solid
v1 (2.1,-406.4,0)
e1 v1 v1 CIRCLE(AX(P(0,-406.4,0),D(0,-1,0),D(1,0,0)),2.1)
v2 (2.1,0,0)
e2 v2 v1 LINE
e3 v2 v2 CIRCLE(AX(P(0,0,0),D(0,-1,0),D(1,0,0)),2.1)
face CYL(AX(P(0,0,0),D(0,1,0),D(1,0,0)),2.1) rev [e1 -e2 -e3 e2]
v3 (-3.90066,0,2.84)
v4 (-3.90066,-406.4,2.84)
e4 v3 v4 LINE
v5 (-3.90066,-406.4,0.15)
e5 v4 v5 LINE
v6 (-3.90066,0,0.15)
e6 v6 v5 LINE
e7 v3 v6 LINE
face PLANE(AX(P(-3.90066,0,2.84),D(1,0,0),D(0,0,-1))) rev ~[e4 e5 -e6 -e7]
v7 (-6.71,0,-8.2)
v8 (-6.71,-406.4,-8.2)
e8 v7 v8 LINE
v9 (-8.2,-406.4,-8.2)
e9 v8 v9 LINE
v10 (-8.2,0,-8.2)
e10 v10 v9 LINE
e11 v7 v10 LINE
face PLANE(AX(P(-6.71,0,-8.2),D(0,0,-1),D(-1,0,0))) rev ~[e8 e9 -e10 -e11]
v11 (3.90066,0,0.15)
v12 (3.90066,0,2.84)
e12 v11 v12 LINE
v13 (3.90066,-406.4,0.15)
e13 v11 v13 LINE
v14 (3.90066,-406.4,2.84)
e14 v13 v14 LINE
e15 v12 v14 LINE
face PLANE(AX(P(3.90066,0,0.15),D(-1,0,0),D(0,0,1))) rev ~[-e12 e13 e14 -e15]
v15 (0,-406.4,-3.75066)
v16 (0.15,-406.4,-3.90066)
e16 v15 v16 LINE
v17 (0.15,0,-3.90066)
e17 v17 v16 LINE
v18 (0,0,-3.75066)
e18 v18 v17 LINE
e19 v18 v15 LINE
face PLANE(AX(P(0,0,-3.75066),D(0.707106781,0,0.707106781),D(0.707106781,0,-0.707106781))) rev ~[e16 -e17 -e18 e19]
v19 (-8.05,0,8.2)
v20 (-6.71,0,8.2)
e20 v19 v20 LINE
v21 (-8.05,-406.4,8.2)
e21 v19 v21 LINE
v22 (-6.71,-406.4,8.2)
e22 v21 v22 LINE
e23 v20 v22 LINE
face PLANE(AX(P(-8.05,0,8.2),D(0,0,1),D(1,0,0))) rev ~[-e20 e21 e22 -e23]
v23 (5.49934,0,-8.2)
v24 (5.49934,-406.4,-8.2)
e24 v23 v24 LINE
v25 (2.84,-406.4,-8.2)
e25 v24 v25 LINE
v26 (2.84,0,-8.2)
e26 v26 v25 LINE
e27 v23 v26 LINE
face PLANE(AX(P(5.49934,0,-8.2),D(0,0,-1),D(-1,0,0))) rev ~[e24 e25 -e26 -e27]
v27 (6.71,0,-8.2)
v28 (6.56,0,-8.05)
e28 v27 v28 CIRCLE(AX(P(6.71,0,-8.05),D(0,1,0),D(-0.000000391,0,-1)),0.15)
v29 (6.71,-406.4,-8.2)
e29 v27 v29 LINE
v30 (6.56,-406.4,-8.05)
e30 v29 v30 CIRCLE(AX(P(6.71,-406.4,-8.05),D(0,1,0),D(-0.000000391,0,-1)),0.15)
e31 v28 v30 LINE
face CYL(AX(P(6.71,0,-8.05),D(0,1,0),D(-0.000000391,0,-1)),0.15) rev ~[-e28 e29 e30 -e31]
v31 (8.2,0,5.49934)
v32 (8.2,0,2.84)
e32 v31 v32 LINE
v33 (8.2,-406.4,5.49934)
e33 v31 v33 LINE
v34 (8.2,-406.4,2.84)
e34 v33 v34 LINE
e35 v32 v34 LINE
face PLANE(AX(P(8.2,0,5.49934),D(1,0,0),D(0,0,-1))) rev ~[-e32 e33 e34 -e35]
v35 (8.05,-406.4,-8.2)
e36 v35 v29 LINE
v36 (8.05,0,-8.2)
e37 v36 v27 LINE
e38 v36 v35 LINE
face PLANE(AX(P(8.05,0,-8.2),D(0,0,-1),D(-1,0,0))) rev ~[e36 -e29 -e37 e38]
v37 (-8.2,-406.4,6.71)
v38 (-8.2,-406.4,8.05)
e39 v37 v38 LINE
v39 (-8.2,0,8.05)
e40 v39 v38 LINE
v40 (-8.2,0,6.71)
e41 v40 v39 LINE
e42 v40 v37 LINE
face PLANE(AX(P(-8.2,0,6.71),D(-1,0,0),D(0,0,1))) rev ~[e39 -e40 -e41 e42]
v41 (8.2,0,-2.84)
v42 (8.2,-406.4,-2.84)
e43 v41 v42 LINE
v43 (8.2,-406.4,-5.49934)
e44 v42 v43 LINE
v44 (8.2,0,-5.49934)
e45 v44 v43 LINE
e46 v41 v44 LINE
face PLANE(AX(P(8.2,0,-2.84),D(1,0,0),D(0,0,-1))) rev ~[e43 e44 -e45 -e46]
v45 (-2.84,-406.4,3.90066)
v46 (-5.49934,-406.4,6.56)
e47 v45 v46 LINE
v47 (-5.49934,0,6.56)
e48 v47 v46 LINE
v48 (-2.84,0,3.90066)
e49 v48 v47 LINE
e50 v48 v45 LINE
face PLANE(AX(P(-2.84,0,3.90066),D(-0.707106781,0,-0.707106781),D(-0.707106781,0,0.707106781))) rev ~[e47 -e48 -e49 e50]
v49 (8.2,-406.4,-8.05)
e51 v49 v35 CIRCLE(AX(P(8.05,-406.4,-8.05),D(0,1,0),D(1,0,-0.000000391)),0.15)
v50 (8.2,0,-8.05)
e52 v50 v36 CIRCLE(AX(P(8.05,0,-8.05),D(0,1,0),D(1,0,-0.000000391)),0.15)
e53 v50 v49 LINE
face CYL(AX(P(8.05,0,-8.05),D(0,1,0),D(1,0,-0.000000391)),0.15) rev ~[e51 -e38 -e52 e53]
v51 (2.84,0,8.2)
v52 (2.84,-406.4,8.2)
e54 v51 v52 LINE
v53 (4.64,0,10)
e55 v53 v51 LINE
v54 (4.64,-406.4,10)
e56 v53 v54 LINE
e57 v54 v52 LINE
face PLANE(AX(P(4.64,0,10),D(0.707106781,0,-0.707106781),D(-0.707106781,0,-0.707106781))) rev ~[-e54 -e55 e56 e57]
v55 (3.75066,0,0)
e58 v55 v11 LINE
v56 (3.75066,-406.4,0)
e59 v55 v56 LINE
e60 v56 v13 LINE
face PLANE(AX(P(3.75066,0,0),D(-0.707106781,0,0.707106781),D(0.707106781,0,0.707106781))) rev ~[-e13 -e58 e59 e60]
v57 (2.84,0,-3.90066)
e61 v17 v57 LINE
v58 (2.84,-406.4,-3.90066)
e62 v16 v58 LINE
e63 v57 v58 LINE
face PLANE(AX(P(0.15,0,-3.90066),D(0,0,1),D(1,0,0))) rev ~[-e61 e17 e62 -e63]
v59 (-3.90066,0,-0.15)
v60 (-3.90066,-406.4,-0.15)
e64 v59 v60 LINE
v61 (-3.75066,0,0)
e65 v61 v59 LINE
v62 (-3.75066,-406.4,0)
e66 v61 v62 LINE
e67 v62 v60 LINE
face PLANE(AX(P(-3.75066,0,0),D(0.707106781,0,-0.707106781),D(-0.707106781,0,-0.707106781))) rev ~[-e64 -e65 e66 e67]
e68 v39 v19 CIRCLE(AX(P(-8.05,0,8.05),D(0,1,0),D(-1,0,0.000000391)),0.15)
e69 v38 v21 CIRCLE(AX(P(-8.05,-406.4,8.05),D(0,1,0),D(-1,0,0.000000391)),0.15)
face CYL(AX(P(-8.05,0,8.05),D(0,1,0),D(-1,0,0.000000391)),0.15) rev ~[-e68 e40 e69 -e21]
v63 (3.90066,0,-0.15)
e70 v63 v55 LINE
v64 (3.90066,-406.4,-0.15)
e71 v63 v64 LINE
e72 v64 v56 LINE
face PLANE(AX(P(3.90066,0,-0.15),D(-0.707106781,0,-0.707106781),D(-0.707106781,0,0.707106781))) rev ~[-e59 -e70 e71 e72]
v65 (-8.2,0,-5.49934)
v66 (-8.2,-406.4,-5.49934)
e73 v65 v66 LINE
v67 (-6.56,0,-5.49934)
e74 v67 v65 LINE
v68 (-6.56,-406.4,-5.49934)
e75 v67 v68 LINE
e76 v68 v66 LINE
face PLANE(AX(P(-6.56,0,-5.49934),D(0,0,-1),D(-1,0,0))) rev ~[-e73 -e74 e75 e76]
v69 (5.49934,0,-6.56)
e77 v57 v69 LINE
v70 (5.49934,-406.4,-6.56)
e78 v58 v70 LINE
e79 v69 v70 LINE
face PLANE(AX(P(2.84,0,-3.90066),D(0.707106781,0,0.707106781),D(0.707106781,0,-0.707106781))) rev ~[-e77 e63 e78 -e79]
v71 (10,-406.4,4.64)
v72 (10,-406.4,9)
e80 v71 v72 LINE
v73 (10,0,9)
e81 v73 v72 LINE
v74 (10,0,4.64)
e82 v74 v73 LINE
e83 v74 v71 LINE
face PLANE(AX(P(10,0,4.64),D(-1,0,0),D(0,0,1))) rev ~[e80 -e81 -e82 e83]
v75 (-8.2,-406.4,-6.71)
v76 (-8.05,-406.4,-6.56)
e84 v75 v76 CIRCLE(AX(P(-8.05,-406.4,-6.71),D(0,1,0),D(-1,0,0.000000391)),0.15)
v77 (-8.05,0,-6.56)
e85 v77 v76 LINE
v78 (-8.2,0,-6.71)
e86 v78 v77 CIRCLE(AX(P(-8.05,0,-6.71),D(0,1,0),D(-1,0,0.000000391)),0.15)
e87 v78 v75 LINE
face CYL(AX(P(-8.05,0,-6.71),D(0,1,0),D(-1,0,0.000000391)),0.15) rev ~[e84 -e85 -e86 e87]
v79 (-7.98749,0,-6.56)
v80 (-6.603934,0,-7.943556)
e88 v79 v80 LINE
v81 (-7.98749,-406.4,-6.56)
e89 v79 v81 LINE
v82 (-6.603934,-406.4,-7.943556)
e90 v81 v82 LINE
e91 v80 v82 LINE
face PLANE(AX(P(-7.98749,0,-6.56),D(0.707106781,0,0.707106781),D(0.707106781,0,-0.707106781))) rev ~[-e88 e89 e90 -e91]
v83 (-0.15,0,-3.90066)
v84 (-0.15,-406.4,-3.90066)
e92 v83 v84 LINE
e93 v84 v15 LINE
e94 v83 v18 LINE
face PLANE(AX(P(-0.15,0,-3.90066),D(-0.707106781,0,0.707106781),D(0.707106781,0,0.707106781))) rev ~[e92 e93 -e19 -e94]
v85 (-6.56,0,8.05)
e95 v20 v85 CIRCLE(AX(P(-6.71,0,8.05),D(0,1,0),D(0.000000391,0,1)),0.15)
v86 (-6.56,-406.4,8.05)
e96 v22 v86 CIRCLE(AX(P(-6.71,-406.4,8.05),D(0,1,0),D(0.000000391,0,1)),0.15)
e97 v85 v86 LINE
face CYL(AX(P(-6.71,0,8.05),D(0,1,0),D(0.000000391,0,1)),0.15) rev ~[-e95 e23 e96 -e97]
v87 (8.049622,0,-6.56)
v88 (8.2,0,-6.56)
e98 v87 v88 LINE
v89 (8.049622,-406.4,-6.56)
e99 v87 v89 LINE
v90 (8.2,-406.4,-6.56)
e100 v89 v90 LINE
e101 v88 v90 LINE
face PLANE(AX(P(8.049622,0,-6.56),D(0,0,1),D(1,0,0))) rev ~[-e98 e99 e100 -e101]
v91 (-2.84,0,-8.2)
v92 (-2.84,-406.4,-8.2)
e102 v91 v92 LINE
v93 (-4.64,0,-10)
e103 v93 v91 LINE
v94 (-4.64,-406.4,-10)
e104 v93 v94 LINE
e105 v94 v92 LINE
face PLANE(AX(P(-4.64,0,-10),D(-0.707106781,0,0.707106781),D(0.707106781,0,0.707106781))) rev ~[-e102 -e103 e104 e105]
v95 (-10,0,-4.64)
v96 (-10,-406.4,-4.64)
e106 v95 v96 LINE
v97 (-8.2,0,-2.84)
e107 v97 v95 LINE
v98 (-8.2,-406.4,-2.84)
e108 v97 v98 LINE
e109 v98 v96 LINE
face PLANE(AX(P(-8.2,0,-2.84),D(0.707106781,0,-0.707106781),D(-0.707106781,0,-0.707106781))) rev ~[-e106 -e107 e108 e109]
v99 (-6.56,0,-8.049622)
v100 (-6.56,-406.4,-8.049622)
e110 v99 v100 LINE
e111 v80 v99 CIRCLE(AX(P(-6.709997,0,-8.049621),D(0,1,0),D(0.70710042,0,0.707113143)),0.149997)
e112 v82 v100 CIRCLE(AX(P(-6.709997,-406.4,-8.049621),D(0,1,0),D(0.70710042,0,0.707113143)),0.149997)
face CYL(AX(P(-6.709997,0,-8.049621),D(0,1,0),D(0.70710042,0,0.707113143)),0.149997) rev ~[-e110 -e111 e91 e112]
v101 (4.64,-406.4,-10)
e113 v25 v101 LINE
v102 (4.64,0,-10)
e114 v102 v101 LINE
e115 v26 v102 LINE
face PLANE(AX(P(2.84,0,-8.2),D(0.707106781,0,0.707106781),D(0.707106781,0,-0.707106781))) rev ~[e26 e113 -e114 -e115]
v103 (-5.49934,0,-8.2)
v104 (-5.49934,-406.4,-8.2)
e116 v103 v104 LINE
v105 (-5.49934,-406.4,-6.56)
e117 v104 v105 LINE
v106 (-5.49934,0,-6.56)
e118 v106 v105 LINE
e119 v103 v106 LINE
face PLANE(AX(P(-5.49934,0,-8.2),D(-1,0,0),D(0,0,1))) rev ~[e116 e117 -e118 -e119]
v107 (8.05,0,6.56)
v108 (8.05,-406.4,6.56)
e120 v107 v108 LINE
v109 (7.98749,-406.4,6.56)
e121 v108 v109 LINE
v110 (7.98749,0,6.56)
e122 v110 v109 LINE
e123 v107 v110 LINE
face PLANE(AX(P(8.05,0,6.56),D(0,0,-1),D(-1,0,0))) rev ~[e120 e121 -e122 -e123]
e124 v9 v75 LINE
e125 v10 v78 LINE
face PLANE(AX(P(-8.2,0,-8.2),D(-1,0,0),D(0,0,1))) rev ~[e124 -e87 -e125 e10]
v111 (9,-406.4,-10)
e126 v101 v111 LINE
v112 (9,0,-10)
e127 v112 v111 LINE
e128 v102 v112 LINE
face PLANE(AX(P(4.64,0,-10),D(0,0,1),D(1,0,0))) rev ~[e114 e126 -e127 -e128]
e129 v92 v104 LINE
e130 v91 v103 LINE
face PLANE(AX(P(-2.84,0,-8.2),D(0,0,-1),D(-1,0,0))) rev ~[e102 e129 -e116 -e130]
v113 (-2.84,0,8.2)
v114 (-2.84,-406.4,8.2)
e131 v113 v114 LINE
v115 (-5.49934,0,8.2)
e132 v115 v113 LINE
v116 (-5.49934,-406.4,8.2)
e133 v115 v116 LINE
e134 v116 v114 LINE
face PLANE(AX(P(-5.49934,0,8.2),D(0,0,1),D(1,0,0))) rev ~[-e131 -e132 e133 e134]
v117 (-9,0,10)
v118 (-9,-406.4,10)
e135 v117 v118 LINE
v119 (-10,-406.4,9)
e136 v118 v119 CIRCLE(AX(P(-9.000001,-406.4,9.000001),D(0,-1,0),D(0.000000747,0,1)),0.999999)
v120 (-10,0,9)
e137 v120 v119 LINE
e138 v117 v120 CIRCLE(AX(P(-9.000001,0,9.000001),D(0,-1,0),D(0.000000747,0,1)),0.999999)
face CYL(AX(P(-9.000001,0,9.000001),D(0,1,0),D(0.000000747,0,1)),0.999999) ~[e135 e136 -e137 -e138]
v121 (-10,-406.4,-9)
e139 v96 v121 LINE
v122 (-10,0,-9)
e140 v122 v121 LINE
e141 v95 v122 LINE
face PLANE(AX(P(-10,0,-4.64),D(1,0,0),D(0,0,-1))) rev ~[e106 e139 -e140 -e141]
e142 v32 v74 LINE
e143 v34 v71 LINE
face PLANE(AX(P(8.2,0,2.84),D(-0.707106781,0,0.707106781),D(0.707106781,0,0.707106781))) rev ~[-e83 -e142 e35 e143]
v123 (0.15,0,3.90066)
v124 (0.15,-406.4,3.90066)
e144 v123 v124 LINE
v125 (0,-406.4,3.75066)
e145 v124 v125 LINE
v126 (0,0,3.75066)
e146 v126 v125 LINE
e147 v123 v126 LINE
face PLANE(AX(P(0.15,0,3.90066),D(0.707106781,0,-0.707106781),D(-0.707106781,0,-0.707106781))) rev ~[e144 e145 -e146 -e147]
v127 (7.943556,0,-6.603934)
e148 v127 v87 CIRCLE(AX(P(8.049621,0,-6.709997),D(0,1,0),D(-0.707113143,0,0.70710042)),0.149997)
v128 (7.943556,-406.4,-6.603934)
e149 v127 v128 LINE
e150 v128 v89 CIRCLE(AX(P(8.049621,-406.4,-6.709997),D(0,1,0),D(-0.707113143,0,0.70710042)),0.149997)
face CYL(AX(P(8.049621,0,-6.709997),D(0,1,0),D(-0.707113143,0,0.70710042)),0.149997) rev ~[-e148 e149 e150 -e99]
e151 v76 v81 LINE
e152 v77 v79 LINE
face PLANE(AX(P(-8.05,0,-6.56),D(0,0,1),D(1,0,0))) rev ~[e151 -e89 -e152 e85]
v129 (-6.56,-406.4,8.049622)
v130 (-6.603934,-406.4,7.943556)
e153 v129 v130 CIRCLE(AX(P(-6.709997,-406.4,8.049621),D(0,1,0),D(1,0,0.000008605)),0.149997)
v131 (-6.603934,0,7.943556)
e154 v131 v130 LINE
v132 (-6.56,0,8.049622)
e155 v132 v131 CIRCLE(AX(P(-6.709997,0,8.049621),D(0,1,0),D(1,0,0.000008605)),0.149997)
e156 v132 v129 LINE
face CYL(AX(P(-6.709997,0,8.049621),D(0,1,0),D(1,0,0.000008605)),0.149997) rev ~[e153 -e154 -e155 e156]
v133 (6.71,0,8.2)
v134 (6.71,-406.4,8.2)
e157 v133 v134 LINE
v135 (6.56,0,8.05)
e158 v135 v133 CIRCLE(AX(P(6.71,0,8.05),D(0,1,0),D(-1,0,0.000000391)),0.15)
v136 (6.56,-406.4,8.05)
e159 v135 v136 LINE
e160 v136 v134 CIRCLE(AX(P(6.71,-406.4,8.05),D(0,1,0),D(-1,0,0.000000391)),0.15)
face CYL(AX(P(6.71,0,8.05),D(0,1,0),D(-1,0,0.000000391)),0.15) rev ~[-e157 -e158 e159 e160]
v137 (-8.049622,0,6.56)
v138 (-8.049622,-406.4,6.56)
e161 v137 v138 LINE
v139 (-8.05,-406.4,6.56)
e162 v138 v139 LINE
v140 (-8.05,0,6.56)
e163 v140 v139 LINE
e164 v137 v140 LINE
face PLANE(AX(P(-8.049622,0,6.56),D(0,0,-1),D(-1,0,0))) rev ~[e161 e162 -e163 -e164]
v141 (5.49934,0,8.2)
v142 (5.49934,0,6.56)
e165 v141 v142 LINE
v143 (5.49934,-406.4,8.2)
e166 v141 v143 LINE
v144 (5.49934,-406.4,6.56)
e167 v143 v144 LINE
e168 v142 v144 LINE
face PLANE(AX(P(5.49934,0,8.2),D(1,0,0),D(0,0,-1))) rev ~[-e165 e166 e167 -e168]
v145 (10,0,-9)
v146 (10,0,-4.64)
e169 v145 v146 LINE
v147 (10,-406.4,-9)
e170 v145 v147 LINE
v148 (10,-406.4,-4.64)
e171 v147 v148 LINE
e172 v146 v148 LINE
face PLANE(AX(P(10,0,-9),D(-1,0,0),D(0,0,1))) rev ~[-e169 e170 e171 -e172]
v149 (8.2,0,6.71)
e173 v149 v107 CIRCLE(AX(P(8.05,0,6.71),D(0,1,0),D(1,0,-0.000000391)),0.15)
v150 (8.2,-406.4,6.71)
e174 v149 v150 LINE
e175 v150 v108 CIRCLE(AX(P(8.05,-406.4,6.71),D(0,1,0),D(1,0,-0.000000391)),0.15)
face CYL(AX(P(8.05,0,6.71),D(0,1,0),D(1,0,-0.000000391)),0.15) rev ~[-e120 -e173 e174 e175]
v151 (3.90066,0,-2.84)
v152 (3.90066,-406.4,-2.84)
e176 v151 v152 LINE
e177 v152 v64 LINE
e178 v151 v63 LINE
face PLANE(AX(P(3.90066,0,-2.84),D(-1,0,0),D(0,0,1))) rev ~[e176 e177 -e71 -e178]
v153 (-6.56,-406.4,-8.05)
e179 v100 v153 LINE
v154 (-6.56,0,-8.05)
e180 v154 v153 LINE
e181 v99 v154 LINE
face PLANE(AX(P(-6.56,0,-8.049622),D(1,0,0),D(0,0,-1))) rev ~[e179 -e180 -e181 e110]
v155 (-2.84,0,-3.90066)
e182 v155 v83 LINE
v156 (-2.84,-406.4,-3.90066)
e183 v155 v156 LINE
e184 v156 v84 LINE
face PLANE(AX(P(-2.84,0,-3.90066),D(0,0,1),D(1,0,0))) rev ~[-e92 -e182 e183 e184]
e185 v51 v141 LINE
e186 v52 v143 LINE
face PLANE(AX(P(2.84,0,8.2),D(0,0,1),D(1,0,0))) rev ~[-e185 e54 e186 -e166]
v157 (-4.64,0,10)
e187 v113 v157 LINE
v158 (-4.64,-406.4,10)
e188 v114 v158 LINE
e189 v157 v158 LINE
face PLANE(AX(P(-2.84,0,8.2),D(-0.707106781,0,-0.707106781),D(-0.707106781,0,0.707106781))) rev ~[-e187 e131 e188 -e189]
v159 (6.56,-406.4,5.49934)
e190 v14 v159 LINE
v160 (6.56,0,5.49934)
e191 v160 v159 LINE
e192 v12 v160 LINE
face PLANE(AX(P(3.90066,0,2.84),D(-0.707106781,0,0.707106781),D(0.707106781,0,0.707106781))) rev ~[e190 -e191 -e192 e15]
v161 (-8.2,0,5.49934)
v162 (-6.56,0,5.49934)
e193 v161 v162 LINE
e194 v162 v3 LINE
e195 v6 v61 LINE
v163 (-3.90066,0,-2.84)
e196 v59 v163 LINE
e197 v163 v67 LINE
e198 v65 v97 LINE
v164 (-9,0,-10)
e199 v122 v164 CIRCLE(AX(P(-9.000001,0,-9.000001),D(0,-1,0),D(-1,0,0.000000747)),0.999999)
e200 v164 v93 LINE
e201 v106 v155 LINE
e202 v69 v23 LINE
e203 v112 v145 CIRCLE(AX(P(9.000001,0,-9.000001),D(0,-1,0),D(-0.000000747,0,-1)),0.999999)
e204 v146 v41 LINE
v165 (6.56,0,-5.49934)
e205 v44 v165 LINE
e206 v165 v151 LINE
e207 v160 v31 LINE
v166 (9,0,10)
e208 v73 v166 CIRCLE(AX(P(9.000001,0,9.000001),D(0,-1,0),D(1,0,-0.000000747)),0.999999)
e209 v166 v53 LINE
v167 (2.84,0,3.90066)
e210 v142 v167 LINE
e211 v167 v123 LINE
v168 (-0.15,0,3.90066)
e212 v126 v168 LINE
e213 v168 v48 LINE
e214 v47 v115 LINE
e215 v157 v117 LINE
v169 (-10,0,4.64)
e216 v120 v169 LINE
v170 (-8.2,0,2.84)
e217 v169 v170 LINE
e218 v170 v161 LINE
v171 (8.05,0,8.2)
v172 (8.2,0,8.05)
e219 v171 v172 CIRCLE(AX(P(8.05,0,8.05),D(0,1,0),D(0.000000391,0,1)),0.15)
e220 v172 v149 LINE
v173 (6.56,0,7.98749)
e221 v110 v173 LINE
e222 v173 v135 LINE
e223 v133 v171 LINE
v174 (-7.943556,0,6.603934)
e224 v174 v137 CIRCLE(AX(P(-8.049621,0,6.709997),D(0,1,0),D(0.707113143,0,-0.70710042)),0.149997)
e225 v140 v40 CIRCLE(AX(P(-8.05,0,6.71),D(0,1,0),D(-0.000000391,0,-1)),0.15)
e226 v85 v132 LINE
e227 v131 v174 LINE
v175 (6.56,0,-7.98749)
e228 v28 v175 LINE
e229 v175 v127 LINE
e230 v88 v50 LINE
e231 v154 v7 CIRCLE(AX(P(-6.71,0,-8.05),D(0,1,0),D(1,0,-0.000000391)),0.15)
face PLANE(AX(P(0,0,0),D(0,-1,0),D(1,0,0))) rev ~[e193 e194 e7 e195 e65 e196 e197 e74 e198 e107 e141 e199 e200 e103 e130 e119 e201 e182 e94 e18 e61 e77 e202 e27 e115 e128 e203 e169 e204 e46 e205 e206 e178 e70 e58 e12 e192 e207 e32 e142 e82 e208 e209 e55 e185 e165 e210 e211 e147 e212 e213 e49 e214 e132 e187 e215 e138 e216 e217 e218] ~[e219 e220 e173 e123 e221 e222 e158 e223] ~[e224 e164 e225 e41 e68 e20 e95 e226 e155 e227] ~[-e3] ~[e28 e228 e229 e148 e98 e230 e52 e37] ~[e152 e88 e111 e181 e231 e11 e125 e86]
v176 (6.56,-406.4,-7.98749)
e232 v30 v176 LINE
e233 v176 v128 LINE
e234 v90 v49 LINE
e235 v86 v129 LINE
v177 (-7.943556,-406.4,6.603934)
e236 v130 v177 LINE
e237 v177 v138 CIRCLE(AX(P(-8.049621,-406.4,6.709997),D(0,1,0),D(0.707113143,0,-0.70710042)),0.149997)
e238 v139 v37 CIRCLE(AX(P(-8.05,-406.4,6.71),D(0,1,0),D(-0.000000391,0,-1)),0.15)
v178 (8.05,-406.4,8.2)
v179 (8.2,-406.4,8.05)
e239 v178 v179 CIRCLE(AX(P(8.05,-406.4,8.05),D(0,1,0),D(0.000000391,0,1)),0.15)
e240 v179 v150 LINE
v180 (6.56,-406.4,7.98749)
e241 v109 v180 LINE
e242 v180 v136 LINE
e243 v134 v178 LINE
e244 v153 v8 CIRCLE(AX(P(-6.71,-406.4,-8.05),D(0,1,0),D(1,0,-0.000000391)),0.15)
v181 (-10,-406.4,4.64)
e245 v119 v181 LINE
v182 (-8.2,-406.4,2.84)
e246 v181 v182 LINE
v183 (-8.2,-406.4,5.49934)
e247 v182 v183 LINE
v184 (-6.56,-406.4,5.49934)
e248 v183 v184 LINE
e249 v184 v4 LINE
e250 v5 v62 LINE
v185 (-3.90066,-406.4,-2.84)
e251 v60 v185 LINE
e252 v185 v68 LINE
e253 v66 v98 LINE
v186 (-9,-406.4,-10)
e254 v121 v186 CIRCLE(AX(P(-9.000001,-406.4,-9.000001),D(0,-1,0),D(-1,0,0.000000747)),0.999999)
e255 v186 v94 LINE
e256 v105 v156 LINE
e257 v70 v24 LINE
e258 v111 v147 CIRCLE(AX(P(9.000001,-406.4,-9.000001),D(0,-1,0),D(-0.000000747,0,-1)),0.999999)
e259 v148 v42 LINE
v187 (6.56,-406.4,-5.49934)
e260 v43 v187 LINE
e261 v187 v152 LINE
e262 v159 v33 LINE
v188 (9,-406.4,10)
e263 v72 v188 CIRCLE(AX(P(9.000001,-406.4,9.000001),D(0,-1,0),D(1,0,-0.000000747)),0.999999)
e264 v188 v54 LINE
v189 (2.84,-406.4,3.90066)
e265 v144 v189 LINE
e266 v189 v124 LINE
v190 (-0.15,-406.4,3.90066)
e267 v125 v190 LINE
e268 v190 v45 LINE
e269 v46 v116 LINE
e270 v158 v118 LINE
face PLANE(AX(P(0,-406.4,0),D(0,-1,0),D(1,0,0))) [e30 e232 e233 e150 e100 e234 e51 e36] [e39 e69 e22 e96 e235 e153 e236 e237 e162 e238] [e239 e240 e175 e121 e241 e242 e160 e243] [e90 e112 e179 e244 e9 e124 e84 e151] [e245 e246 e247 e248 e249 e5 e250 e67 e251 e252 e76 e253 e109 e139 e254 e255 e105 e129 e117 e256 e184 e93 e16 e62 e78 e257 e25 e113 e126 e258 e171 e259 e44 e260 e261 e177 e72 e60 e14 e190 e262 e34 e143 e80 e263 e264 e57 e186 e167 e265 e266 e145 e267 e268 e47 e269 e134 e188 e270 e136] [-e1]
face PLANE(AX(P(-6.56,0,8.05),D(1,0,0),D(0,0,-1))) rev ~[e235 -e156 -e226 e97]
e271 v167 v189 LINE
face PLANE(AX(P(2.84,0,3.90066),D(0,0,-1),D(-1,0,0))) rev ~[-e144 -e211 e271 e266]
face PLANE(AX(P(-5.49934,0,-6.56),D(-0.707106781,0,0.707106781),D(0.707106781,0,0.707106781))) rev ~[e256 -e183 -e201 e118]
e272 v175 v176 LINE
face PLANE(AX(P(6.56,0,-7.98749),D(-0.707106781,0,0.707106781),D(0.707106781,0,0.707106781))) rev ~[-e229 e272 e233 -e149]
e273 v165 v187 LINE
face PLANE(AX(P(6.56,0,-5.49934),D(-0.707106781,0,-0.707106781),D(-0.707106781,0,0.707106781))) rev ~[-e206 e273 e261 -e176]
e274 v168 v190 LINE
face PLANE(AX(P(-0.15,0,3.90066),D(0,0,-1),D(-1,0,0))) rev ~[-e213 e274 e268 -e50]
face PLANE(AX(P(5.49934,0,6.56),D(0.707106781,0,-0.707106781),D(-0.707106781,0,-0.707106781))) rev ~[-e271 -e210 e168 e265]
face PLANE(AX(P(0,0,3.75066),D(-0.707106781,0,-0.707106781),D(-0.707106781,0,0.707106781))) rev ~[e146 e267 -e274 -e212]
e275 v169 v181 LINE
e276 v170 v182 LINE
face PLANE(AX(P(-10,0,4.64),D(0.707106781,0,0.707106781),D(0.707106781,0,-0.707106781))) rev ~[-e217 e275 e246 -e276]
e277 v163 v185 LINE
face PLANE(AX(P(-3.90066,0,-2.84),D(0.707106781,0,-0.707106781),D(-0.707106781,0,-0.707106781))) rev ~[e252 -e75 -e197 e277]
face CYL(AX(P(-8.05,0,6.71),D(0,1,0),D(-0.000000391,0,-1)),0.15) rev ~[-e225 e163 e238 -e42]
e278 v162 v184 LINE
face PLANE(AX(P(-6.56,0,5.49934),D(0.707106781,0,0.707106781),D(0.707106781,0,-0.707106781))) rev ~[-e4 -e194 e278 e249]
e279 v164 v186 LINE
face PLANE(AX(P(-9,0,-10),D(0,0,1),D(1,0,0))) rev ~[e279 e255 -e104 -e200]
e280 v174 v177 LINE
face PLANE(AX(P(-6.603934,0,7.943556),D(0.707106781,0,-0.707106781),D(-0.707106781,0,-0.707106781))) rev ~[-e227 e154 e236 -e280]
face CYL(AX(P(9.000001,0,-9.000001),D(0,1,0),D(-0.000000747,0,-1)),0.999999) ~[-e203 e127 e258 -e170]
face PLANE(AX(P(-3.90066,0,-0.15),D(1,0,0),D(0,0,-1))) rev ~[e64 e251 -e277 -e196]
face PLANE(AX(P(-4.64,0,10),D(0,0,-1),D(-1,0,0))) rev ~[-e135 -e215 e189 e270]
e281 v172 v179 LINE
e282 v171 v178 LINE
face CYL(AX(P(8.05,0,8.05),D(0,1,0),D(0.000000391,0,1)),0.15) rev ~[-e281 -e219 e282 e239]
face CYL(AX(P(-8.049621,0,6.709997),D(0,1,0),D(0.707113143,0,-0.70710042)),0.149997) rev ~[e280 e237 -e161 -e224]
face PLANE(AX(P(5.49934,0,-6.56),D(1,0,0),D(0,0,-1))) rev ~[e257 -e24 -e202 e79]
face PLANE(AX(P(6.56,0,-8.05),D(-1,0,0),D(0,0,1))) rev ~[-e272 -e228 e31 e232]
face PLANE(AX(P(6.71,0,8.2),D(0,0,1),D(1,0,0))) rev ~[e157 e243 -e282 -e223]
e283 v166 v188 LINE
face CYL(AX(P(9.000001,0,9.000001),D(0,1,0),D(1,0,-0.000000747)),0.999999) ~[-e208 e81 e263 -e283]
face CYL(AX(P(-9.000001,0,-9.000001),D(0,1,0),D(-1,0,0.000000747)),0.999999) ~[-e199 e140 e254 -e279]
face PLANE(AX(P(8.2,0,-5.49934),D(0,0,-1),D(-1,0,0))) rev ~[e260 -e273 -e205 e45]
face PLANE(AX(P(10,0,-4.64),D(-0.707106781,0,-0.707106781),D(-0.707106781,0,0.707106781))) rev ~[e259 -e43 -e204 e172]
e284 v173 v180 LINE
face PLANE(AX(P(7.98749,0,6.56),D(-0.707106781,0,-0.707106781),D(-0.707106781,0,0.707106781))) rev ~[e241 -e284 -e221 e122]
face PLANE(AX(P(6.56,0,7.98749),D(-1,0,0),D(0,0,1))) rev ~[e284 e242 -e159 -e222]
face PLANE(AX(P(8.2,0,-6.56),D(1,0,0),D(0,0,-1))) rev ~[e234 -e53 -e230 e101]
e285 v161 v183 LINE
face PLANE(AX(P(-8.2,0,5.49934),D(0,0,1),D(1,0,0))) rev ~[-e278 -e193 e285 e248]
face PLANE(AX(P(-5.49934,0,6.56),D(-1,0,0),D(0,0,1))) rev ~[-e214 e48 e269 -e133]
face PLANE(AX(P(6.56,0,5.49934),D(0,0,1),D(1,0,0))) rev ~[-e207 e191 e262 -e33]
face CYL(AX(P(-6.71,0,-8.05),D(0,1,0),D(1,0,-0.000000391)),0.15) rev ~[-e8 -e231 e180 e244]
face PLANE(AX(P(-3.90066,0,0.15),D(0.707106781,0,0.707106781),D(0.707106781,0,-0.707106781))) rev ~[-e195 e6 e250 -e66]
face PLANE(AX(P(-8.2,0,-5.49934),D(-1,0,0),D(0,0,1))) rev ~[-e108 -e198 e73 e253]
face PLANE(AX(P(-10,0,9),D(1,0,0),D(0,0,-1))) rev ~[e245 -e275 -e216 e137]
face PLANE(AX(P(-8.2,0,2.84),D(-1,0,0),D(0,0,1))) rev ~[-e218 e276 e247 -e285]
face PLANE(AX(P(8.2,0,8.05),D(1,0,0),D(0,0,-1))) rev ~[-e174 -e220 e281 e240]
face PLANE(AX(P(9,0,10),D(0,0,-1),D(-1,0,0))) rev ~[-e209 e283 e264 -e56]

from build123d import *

# Parameters (mm, degrees)
F0_R     = 2.1
F1_DEPTH = 406.4


with BuildPart() as f1:
    # F0 (on Front) → F1 (new body)
    with BuildSketch(Plane.XZ):
        with BuildLine():
            Line((-4.64, 10), (-9, 10))
            ThreePointArc((-9, 10), (-9.707107, 9.707107), (-10, 9))
            Line((-10, 9), (-10, 4.64))
            Line((-10, 4.64), (-8.2, 2.84))
            Line((-8.2, 2.84), (-8.2, 5.49934))
            Line((-8.2, 5.49934), (-6.56, 5.49934))
            Line((-6.56, 5.49934), (-3.90066, 2.84))
            Line((-3.90066, 2.84), (-3.90066, 0.15))
            Line((-3.90066, 0.15), (-3.75066, 0))
            Line((-3.75066, 0), (-3.90066, -0.15))
            Line((-3.90066, -0.15), (-3.90066, -2.84))
            Line((-3.90066, -2.84), (-6.56, -5.49934))
            Line((-6.56, -5.49934), (-8.2, -5.49934))
            Line((-8.2, -5.49934), (-8.2, -2.84))
            Line((-8.2, -2.84), (-10, -4.64))
            Line((-10, -4.64), (-10, -9))
            ThreePointArc((-10, -9), (-9.707107, -9.707107), (-9, -10))
            Line((-9, -10), (-4.64, -10))
            Line((-4.64, -10), (-2.84, -8.2))
            Line((-2.84, -8.2), (-5.49934, -8.2))
            Line((-5.49934, -8.2), (-5.49934, -6.56))
            Line((-5.49934, -6.56), (-2.84, -3.90066))
            Line((-2.84, -3.90066), (-0.15, -3.90066))
            Line((-0.15, -3.90066), (0, -3.75066))
            Line((0, -3.75066), (0.15, -3.90066))
            Line((0.15, -3.90066), (2.84, -3.90066))
            Line((2.84, -3.90066), (5.49934, -6.56))
            Line((5.49934, -6.56), (5.49934, -8.2))
            Line((5.49934, -8.2), (2.84, -8.2))
            Line((2.84, -8.2), (4.64, -10))
            Line((4.64, -10), (9, -10))
            ThreePointArc((9, -10), (9.707107, -9.707107), (10, -9))
            Line((10, -9), (10, -4.64))
            Line((10, -4.64), (8.2, -2.84))
            Line((8.2, -2.84), (8.2, -5.49934))
            Line((8.2, -5.49934), (6.56, -5.49934))
            Line((6.56, -5.49934), (3.90066, -2.84))
            Line((3.90066, -2.84), (3.90066, -0.15))
            Line((3.90066, -0.15), (3.75066, 0))
            Line((3.75066, 0), (3.90066, 0.15))
            Line((3.90066, 0.15), (3.90066, 2.84))
            Line((3.90066, 2.84), (6.56, 5.49934))
            Line((6.56, 5.49934), (8.2, 5.49934))
            Line((8.2, 5.49934), (8.2, 2.84))
            Line((8.2, 2.84), (10, 4.64))
            Line((10, 4.64), (10, 9))
            ThreePointArc((10, 9), (9.707107, 9.707107), (9, 10))
            Line((9, 10), (4.64, 10))
            Line((4.64, 10), (2.84, 8.2))
            Line((2.84, 8.2), (5.49934, 8.2))
            Line((5.49934, 8.2), (5.49934, 6.56))
            Line((5.49934, 6.56), (2.84, 3.90066))
            Line((2.84, 3.90066), (0.15, 3.90066))
            Line((0.15, 3.90066), (0, 3.75066))
            Line((0, 3.75066), (-0.15, 3.90066))
            Line((-0.15, 3.90066), (-2.84, 3.90066))
            Line((-2.84, 3.90066), (-5.49934, 6.56))
            Line((-5.49934, 6.56), (-5.49934, 8.2))
            Line((-5.49934, 8.2), (-2.84, 8.2))
            Line((-2.84, 8.2), (-4.64, 10))
        make_face()
        with BuildLine():
            Line((-8.2, -8.2), (-8.2, -6.71))
            ThreePointArc((-8.2, -6.71), (-8.156066, -6.603934), (-8.05, -6.56))
            Line((-8.05, -6.56), (-7.98749, -6.56))
            Line((-7.98749, -6.56), (-6.603934, -7.943556))
            ThreePointArc((-6.603934, -7.943556), (-6.571418, -7.992219), (-6.56, -8.049622))
            Line((-6.56, -8.049622), (-6.56, -8.05))
            ThreePointArc((-6.56, -8.05), (-6.603934, -8.156066), (-6.71, -8.2))
            Line((-6.71, -8.2), (-8.2, -8.2))
        make_face(mode=Mode.SUBTRACT)
        with BuildLine():
            ThreePointArc((6.71, -8.2), (6.603934, -8.156066), (6.56, -8.05))
            Line((6.56, -8.05), (6.56, -7.98749))
            Line((6.56, -7.98749), (7.943556, -6.603934))
            ThreePointArc((7.943556, -6.603934), (7.992219, -6.571418), (8.049622, -6.56))
            Line((8.049622, -6.56), (8.2, -6.56))
            Line((8.2, -6.56), (8.2, -8.05))
            ThreePointArc((8.2, -8.05), (8.156066, -8.156066), (8.05, -8.2))
            Line((8.05, -8.2), (6.71, -8.2))
        make_face(mode=Mode.SUBTRACT)
        with BuildLine():
            ThreePointArc((-8.2, 8.05), (-8.156066, 8.156066), (-8.05, 8.2))
            Line((-8.05, 8.2), (-6.71, 8.2))
            ThreePointArc((-6.71, 8.2), (-6.603934, 8.156066), (-6.56, 8.05))
            Line((-6.56, 8.05), (-6.56, 8.049622))
            ThreePointArc((-6.56, 8.049622), (-6.571418, 7.992219), (-6.603934, 7.943556))
            Line((-6.603934, 7.943556), (-7.943556, 6.603934))
            ThreePointArc((-7.943556, 6.603934), (-7.992219, 6.571418), (-8.049622, 6.56))
            Line((-8.049622, 6.56), (-8.05, 6.56))
            ThreePointArc((-8.05, 6.56), (-8.156066, 6.603934), (-8.2, 6.71))
            Line((-8.2, 6.71), (-8.2, 8.05))
        make_face(mode=Mode.SUBTRACT)
        Circle(F0_R, mode=Mode.SUBTRACT)
        with BuildLine():
            Line((8.2, 8.05), (8.2, 6.71))
            ThreePointArc((8.2, 6.71), (8.156066, 6.603934), (8.05, 6.56))
            Line((8.05, 6.56), (7.98749, 6.56))
            Line((7.98749, 6.56), (6.56, 7.98749))
            Line((6.56, 7.98749), (6.56, 8.05))
            ThreePointArc((6.56, 8.05), (6.603934, 8.156066), (6.71, 8.2))
            Line((6.71, 8.2), (8.05, 8.2))
            ThreePointArc((8.05, 8.2), (8.156066, 8.156066), (8.2, 8.05))
        make_face(mode=Mode.SUBTRACT)
    extrude(amount=F1_DEPTH)


solid = f1.part
